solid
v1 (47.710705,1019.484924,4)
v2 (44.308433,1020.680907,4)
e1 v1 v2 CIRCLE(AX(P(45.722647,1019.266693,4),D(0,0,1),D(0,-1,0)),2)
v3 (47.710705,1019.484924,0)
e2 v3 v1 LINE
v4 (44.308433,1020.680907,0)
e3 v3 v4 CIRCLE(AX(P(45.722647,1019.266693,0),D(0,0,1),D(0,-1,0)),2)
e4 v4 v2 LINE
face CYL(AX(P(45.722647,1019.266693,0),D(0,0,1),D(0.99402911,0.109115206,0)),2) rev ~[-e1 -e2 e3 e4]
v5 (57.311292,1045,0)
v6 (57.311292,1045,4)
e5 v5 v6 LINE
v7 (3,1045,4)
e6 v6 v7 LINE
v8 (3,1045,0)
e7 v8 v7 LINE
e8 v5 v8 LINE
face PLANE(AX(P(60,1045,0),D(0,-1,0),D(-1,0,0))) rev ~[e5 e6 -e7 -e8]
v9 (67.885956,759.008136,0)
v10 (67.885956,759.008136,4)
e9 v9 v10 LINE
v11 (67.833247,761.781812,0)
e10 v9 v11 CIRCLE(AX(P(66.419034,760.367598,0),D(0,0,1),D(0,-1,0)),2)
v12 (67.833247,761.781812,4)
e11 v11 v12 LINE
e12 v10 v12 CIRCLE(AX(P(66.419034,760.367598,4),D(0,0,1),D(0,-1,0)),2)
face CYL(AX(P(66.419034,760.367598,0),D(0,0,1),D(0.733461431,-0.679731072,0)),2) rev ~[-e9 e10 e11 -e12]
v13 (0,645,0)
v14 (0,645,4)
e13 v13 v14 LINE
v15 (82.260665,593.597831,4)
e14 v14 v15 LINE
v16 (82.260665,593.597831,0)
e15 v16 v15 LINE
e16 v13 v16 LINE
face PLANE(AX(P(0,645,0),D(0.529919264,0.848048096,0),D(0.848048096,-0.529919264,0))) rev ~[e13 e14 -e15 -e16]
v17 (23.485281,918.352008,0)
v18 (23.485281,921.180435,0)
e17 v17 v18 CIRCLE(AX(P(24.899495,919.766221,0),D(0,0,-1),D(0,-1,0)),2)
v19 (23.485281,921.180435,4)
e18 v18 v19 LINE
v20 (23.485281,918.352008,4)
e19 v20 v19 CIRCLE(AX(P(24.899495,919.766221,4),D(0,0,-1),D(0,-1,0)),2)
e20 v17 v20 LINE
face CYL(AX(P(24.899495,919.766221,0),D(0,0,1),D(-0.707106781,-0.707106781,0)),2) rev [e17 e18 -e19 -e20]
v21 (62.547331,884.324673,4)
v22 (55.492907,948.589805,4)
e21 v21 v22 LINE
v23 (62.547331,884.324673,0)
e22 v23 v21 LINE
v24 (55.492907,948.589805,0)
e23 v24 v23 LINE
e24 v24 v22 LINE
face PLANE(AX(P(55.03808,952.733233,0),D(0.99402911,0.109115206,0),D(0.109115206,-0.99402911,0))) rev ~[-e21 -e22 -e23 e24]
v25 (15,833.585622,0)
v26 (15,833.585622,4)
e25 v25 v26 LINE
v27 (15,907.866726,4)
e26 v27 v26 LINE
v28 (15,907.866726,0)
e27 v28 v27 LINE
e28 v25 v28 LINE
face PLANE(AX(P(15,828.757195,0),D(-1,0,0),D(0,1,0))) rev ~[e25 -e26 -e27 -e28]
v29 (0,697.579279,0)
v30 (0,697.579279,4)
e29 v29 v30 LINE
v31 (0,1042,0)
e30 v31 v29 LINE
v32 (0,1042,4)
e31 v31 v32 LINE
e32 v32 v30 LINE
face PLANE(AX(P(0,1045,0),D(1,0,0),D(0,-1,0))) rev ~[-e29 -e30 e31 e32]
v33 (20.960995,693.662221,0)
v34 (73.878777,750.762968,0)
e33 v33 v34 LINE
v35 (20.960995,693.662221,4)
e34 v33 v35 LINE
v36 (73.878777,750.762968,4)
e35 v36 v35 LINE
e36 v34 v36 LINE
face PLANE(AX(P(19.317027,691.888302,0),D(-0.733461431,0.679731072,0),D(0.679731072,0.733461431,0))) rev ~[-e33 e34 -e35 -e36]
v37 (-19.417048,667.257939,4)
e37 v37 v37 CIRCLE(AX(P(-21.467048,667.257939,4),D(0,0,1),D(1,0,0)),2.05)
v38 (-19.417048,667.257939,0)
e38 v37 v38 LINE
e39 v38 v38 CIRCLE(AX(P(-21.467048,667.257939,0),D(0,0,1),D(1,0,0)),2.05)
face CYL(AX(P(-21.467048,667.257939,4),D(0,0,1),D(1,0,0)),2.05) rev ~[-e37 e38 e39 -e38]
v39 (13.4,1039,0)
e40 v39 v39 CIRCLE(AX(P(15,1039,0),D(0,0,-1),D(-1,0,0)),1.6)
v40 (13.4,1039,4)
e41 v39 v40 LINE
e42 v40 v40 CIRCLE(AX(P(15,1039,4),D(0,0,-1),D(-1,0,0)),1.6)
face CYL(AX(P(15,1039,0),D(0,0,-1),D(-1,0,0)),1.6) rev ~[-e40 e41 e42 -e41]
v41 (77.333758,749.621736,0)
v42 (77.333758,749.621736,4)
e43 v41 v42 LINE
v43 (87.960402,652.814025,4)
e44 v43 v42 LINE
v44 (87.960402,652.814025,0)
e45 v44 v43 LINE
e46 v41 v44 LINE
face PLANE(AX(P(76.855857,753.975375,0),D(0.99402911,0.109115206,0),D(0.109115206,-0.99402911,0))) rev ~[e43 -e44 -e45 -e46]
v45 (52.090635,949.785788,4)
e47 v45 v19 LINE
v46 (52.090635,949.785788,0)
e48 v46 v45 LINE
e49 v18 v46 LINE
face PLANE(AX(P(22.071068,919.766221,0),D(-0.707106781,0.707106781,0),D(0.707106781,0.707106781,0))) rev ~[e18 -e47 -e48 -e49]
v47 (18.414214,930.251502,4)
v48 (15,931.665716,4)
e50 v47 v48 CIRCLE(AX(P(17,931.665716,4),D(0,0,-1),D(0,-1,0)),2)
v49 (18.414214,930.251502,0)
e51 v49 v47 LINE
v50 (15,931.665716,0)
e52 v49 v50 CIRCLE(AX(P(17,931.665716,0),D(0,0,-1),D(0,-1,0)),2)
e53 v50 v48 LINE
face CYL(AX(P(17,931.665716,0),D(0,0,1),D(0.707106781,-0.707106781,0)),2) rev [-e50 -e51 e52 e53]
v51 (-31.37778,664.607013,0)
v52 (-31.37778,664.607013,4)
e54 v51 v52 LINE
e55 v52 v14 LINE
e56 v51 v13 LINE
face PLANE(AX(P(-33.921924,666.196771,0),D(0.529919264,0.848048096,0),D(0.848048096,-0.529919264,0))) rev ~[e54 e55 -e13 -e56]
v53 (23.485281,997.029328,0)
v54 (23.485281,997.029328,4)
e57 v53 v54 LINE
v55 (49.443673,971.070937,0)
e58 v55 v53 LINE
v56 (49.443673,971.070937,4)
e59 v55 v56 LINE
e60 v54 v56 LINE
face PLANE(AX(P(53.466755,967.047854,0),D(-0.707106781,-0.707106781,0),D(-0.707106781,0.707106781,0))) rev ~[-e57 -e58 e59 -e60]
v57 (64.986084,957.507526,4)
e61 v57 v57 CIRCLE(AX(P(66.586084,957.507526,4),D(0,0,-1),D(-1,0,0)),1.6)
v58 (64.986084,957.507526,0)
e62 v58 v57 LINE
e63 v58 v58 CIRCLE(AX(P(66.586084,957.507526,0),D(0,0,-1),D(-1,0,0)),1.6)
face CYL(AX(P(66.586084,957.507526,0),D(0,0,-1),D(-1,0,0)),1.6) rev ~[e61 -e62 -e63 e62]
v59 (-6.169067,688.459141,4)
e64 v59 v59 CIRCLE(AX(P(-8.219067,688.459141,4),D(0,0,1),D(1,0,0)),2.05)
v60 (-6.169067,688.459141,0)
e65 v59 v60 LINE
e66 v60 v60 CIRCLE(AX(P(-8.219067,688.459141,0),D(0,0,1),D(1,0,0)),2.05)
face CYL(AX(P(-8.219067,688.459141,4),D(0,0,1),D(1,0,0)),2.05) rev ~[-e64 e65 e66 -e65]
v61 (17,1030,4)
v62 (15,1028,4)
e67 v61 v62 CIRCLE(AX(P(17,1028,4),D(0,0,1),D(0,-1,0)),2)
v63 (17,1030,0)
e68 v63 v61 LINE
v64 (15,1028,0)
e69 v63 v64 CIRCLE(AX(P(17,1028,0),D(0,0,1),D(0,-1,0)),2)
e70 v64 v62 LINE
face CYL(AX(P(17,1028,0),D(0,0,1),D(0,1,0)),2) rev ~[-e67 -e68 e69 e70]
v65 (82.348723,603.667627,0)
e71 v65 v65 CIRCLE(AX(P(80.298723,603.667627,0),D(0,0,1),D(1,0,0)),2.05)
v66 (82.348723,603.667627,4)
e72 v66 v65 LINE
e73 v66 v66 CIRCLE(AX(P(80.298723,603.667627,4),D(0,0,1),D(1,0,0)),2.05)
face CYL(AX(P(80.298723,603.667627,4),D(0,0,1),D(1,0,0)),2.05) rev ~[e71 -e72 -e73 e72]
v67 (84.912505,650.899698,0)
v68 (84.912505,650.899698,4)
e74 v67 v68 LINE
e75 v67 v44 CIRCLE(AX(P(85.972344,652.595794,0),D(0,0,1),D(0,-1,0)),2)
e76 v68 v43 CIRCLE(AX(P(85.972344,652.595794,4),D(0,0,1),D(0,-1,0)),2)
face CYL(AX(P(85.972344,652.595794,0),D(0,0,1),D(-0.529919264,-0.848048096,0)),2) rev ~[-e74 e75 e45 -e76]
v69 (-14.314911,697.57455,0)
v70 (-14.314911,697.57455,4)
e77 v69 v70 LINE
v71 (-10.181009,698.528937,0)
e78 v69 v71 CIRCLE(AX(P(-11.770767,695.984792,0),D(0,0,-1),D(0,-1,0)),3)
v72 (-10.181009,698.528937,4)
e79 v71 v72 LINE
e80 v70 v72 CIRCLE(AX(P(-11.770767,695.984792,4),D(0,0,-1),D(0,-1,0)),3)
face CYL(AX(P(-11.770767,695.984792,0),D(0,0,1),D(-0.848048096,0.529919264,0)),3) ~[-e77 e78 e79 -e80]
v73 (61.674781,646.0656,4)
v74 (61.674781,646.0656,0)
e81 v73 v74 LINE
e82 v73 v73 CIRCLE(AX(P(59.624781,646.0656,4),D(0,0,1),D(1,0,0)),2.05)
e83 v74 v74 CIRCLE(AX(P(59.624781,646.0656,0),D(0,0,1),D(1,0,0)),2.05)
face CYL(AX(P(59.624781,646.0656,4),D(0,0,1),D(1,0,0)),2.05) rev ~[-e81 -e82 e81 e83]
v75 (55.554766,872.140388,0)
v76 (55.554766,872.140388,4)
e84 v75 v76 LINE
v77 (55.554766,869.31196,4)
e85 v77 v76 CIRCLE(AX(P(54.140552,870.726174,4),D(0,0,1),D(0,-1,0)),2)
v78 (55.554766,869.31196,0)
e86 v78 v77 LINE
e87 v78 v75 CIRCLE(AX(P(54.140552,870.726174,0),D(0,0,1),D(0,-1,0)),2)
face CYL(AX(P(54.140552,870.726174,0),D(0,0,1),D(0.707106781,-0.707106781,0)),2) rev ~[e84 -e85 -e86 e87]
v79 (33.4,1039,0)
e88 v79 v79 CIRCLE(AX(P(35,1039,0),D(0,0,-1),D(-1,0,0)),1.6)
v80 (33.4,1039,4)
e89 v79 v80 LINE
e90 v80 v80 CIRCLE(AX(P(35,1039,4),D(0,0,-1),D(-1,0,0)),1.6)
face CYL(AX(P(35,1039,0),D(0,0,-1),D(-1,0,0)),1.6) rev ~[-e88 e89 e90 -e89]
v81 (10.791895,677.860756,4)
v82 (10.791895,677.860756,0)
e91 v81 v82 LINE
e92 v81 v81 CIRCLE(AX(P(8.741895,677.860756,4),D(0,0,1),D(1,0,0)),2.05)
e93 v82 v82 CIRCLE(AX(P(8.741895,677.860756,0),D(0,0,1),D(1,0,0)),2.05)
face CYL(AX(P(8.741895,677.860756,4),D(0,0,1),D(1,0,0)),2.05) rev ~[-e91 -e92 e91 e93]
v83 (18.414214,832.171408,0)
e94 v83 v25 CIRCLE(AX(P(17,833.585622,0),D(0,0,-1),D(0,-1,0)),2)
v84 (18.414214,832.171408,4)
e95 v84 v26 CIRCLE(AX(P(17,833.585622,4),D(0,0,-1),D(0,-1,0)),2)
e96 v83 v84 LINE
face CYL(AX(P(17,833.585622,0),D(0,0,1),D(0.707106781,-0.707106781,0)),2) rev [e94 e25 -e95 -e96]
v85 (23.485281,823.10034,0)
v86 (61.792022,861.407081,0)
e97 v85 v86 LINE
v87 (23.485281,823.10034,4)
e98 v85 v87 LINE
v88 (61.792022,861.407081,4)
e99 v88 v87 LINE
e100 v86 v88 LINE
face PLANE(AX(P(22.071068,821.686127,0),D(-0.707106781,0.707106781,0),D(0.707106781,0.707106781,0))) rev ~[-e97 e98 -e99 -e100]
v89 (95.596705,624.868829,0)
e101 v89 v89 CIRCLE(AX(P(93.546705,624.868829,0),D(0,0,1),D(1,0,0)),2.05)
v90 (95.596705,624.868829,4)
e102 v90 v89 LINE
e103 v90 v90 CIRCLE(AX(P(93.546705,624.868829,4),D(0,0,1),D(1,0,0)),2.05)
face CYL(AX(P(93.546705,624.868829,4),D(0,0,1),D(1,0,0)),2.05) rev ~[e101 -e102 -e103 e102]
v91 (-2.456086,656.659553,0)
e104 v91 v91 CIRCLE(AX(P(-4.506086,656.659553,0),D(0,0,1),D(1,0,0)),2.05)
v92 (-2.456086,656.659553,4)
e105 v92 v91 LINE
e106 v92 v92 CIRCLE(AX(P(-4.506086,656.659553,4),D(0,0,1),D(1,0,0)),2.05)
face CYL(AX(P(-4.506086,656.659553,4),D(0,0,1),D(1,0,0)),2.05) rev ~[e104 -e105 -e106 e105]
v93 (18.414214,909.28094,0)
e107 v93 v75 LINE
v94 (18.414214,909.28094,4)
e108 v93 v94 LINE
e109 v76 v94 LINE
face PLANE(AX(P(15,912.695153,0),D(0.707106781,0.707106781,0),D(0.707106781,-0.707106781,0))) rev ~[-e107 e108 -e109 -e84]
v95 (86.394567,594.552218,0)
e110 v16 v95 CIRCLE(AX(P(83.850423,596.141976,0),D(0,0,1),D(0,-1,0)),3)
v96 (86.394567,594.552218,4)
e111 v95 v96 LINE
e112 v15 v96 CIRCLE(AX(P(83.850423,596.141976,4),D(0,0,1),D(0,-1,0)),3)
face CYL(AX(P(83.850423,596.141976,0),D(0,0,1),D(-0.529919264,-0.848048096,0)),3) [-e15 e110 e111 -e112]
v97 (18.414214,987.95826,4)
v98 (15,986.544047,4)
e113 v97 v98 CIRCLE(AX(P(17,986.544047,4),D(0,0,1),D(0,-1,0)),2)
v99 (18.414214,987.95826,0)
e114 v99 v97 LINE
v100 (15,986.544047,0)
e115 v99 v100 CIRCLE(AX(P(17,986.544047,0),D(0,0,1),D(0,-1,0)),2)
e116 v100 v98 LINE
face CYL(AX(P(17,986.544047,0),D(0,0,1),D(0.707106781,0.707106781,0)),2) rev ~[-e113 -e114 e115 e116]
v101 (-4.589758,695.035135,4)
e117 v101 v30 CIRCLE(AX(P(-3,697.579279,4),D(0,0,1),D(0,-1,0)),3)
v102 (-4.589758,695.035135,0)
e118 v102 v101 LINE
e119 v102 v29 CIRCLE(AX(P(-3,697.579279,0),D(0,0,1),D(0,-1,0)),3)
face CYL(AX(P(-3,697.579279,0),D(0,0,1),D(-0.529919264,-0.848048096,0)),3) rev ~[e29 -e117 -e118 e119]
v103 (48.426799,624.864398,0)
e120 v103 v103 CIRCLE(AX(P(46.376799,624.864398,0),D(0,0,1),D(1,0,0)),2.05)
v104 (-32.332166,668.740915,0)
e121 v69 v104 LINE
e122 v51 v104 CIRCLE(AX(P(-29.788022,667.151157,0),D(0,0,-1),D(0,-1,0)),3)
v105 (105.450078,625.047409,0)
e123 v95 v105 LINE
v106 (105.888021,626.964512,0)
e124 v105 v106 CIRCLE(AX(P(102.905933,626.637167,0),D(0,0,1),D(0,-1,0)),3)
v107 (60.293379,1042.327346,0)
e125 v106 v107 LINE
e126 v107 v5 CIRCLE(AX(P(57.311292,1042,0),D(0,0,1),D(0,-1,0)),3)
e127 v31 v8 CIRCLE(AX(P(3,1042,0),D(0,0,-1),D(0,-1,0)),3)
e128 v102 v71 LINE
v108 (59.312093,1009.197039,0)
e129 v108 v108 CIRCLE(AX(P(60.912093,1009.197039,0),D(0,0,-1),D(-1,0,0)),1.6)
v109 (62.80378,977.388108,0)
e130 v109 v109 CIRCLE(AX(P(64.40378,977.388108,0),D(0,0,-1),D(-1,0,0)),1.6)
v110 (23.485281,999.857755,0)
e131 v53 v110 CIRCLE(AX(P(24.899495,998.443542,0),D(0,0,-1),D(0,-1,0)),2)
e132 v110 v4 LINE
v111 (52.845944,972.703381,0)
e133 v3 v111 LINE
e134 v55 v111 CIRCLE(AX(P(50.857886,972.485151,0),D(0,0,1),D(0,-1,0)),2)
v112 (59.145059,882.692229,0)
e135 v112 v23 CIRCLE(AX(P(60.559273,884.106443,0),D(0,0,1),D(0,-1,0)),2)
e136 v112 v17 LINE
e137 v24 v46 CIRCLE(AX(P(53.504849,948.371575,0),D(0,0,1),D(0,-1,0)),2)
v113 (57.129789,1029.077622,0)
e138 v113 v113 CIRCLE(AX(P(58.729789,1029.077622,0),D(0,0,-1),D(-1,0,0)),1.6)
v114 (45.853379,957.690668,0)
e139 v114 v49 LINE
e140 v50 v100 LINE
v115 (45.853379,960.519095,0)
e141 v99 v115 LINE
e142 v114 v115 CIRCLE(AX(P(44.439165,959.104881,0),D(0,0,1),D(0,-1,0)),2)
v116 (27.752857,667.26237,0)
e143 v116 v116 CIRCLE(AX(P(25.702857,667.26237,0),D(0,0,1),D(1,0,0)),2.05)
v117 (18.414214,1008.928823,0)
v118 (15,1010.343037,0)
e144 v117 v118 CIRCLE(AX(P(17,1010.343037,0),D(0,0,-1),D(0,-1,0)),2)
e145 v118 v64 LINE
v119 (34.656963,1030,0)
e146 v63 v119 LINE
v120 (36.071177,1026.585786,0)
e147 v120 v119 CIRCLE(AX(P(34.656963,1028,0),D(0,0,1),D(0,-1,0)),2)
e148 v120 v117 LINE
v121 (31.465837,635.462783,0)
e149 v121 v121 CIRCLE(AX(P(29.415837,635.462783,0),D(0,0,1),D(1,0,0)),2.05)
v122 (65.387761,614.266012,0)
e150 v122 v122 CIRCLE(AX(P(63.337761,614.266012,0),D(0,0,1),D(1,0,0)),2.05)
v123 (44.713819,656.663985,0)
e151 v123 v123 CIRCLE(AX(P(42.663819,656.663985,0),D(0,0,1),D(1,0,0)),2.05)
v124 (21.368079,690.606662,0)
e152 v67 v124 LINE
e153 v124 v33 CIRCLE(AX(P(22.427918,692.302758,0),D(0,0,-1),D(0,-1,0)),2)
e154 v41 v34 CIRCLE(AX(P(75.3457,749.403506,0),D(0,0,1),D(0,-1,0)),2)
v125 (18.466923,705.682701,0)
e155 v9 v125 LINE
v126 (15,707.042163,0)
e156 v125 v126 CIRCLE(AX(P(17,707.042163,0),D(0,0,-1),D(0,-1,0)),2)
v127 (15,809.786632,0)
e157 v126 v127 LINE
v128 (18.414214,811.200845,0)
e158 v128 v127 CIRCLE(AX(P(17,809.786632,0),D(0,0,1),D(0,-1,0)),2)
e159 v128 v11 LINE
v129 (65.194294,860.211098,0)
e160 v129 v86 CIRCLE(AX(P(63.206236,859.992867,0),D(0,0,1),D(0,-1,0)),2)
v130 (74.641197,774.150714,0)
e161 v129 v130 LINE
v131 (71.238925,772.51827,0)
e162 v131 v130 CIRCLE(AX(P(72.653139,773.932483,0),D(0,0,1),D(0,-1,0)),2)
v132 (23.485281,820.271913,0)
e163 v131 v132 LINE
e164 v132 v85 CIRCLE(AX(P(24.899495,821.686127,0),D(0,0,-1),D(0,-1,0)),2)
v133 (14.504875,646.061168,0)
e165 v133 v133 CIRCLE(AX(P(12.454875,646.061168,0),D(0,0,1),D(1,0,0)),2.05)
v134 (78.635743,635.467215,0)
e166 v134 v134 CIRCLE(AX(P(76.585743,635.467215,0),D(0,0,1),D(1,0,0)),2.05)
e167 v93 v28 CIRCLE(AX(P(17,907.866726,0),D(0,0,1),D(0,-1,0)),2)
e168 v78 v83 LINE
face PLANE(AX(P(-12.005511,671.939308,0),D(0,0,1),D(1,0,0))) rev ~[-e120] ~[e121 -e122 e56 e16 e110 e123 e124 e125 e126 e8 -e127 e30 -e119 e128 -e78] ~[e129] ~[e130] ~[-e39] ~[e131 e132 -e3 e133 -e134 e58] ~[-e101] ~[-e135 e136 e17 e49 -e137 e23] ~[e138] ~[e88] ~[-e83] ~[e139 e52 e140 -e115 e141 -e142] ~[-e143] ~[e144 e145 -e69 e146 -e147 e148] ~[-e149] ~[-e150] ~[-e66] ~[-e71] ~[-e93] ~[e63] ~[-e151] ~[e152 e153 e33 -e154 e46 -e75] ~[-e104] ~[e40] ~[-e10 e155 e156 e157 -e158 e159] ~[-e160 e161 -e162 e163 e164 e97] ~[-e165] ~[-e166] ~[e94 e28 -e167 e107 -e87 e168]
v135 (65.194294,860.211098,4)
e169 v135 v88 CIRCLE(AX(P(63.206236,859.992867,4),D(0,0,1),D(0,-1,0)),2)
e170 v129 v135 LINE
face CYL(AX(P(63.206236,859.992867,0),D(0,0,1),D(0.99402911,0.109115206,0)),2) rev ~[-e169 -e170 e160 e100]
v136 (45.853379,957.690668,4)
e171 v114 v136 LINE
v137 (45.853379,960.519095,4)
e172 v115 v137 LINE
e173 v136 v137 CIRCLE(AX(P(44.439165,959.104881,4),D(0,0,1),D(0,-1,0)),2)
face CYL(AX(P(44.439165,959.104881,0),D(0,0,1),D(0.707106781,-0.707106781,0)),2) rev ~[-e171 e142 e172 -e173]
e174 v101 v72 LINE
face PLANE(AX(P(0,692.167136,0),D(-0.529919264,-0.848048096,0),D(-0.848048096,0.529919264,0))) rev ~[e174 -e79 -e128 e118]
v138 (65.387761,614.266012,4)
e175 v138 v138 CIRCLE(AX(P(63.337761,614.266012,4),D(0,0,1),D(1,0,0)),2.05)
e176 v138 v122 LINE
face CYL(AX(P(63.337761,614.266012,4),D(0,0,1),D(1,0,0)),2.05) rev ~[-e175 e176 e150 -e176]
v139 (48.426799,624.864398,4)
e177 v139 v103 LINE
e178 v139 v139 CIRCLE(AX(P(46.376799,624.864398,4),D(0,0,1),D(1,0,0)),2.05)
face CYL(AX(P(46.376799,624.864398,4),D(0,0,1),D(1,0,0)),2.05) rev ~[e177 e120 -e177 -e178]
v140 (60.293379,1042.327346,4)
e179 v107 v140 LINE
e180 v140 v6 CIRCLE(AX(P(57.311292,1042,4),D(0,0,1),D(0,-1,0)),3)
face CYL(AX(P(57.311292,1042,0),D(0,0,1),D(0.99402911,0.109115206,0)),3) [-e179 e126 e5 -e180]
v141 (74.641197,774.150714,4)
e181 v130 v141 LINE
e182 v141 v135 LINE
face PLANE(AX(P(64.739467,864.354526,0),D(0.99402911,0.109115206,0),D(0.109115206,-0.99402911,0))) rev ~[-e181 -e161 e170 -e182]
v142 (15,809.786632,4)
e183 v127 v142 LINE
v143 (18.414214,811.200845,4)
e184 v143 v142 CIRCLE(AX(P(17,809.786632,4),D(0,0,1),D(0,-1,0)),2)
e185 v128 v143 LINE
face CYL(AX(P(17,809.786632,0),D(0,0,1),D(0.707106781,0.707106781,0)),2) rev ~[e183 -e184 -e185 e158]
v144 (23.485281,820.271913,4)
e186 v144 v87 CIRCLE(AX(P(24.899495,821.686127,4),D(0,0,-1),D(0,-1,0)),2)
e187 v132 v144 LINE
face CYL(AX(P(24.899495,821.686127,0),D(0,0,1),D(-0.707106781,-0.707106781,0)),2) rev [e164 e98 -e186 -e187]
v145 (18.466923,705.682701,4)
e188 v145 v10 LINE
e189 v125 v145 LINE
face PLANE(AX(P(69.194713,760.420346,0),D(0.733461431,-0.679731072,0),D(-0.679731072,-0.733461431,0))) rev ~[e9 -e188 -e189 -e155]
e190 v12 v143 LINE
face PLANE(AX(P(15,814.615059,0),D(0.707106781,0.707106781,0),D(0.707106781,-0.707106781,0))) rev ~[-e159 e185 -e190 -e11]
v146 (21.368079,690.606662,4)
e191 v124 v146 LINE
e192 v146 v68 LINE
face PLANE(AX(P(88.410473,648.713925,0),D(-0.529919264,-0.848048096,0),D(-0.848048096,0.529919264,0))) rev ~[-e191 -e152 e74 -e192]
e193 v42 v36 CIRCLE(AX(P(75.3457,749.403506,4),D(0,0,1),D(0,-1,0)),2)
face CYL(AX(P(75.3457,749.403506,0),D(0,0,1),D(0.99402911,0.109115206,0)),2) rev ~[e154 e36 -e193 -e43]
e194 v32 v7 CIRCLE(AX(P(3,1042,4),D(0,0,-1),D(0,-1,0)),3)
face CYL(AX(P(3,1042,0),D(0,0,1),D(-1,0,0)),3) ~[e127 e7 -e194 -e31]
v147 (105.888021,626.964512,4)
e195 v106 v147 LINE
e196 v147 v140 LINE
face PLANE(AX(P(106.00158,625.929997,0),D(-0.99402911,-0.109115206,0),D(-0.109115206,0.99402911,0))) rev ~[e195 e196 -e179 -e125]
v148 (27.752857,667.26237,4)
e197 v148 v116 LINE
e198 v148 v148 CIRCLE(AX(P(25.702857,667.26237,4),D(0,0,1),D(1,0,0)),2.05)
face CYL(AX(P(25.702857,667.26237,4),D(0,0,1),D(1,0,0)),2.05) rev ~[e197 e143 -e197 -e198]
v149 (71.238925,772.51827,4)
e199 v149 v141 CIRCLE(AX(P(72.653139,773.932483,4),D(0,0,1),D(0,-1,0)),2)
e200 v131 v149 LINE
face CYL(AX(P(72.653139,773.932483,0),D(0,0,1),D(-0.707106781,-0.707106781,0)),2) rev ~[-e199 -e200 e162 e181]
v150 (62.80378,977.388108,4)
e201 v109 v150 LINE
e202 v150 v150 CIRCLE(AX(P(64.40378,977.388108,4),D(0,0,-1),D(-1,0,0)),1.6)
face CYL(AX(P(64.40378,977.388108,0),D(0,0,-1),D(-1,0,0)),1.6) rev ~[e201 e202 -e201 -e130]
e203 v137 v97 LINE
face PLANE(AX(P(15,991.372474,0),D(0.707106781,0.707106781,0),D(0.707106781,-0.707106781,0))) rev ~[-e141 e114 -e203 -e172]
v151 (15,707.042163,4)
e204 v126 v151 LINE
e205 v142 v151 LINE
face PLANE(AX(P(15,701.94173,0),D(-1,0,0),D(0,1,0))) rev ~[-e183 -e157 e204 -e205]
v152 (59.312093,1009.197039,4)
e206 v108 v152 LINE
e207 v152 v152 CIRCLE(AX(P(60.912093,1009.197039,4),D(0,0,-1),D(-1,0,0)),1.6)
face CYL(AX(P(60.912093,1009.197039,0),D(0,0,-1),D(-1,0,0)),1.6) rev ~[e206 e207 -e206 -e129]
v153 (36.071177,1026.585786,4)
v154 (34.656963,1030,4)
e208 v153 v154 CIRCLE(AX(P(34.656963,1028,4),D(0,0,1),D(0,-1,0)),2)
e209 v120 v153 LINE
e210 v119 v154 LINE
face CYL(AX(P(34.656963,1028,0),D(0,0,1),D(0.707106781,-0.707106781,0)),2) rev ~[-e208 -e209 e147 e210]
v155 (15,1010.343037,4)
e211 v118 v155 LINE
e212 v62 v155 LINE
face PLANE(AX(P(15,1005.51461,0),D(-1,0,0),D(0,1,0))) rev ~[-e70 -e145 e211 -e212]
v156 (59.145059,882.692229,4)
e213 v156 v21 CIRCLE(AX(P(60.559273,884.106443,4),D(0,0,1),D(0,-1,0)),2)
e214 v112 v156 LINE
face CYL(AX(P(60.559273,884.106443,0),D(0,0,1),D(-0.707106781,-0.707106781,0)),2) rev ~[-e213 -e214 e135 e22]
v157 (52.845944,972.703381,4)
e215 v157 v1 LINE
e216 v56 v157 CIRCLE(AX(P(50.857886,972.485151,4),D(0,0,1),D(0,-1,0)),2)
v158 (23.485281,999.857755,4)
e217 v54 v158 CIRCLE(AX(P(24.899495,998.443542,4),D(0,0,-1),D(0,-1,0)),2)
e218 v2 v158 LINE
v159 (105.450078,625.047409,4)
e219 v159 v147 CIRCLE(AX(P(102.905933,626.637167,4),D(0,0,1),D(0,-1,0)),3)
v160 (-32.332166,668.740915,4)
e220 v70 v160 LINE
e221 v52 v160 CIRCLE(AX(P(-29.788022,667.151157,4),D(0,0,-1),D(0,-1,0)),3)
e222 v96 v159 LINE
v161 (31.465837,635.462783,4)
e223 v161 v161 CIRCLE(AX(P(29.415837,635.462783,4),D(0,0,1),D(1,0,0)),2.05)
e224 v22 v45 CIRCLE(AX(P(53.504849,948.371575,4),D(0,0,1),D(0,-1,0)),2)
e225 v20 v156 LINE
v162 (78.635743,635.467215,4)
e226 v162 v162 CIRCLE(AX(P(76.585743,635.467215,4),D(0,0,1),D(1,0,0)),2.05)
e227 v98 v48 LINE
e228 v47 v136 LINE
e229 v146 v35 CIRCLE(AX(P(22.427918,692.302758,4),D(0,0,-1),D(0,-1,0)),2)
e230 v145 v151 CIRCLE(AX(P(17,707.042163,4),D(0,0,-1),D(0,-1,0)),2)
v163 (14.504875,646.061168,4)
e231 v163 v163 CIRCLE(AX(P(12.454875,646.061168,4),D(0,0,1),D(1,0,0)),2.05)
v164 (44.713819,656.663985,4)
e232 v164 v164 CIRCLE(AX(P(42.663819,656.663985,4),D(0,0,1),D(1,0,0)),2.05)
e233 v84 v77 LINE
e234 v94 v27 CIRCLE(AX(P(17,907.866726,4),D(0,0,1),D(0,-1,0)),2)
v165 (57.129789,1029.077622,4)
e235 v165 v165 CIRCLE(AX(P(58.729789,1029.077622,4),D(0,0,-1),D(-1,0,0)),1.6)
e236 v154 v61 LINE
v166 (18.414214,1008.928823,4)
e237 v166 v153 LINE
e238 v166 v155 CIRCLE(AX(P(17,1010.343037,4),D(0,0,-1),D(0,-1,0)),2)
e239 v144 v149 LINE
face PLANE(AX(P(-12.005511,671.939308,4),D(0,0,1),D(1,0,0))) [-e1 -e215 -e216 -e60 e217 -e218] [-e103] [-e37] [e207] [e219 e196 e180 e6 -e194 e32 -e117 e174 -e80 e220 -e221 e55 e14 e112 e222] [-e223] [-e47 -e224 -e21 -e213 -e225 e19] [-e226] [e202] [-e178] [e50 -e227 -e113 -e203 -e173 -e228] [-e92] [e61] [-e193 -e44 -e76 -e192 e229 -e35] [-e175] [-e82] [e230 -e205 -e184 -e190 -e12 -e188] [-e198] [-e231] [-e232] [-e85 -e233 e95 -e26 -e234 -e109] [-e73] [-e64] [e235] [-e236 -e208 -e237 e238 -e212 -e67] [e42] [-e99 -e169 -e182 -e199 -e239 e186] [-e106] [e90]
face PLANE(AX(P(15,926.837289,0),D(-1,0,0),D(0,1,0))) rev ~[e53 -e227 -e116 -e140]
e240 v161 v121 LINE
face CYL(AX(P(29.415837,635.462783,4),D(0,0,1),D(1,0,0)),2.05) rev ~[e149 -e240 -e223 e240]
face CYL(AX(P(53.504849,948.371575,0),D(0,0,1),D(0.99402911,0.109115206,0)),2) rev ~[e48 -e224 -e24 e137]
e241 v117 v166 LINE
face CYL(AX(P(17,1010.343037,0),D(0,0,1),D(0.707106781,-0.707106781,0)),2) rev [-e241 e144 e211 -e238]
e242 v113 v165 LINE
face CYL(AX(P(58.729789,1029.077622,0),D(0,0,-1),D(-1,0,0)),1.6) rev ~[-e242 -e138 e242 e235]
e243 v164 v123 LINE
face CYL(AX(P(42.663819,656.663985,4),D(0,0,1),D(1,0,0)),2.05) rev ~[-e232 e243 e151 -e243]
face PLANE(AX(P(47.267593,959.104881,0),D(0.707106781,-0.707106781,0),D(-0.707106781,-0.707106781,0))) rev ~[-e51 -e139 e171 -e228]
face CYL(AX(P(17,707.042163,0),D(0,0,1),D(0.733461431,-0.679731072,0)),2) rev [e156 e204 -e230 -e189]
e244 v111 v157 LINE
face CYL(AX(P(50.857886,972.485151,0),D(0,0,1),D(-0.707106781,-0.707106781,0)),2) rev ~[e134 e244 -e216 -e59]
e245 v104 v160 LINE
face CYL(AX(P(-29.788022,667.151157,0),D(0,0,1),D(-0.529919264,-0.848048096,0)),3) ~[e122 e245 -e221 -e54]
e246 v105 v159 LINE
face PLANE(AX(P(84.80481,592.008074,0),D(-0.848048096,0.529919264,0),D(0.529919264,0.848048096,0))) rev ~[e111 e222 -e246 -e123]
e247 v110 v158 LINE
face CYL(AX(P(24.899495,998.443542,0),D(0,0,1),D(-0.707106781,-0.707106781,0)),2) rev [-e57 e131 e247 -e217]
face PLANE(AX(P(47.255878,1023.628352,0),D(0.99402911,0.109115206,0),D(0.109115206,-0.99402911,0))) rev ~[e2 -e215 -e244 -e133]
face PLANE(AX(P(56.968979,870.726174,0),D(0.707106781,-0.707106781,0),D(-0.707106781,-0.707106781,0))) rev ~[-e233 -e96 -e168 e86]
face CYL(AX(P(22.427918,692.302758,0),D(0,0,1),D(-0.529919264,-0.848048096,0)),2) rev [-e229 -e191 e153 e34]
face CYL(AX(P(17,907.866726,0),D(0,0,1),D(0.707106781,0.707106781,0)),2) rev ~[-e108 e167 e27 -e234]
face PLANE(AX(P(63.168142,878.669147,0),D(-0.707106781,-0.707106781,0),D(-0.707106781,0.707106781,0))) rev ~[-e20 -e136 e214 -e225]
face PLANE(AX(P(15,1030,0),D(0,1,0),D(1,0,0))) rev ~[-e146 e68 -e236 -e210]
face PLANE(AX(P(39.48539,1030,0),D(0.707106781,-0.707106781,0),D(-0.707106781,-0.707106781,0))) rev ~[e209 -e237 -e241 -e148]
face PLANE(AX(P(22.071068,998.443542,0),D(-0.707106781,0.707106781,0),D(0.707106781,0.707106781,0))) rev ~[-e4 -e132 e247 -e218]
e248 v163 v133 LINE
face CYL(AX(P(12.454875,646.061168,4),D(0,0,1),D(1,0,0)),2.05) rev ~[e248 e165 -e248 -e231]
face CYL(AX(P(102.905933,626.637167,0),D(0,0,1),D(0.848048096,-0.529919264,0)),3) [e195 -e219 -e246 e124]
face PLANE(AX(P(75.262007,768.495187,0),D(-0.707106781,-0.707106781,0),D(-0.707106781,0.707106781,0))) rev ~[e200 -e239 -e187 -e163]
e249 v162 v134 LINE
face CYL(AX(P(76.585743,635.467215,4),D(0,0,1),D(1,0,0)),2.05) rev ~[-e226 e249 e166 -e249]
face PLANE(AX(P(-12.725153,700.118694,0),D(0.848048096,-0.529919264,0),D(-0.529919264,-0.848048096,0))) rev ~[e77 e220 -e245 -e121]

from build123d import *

# Parameters (mm, degrees)
EXTRUDE_1_DEPTH     = 4
SKETCH_2_R          = 2.05
CUT_EXTRUDE_1_DEPTH = 1051.370094301
FILLET_2_R          = 3
CUT_EXTRUDE_2_DEPTH = 1051.360446107
FILLET_3_R          = 2
SKETCH_4_R          = 1.6
CUT_EXTRUDE_3_DEPTH = 1051.360446107
SKETCH_5_R          = 1.6
CUT_EXTRUDE_4_DEPTH = 1051.360446107


with BuildPart() as part:
    # 草图1 → 凸台-拉伸1 (new body)
    with BuildSketch(Plane.XY):
        Polygon((-33.921923846, 666.196770569), (0, 645), (0, 692.167136134), (-12.725153277, 700.118694416), align=None)
        Polygon((21.196770569, 678.921923846), (0, 645), (84.804809616, 592.008073577), (106.001580185, 625.929997423), align=None)
        Polygon((0, 692.167136134), (0, 645), (21.196770569, 678.921923846), align=None)
        Polygon((0, 1045), (0, 692.167136134), (21.196770569, 678.921923846), (106.001580185, 625.929997423), (60, 1045), align=None)
    extrude(amount=EXTRUDE_1_DEPTH)

    # 草图2 → 切除-拉伸1 (cut, through all)
    with BuildSketch(Plane.XY.offset(4)):
        with Locations((-8.219066797, 688.459141052)):
            Circle(SKETCH_2_R)
        with Locations((-21.467048403, 667.257938648)):
            Circle(SKETCH_2_R)
        with Locations((-4.50608648, 656.659553364)):
            Circle(SKETCH_2_R)
        with Locations((8.741895126, 677.860755767)):
            Circle(SKETCH_2_R)
        with Locations((12.454875443, 646.061168079)):
            Circle(SKETCH_2_R)
        with Locations((25.702857049, 667.262370483)):
            Circle(SKETCH_2_R)
        with Locations((29.415837366, 635.462782794)):
            Circle(SKETCH_2_R)
        with Locations((42.663818972, 656.663985198)):
            Circle(SKETCH_2_R)
        with Locations((46.37679929, 624.86439751)):
            Circle(SKETCH_2_R)
        with Locations((59.624780895, 646.065599913)):
            Circle(SKETCH_2_R)
        with Locations((63.337761213, 614.266012225)):
            Circle(SKETCH_2_R)
        with Locations((76.585742819, 635.467214629)):
            Circle(SKETCH_2_R)
        with Locations((80.298723136, 603.66762694)):
            Circle(SKETCH_2_R)
        with Locations((93.546704742, 624.868829344)):
            Circle(SKETCH_2_R)
    extrude(amount=-CUT_EXTRUDE_1_DEPTH, mode=Mode.SUBTRACT)

    # 圆角2
    fillet_2_edges = [part.edges().sort_by_distance(p)[0] for p in [
        (0, 1045, 2),
        (60, 1045, 2),
        (106.001580185, 625.929997423, 2),
        (84.804809616, 592.008073577, 2),
        (-33.921923846, 666.196770569, 2),
        (-12.725153277, 700.118694416, 2),
        (0, 692.167136134, 2),
    ]]
    fillet(fillet_2_edges, radius=FILLET_2_R)

    # 草图3 → 切除-拉伸2 (cut, through all)
    with BuildSketch(Plane(origin=(0, 0, 0), x_dir=(-1, 0, 0), z_dir=(0, 0, -1))):
        Polygon((-15, 1005.514609624), (-15, 1030), (-39.485390376, 1030), align=None)
        Polygon((-22.071067812, 998.443541812), (-47.25587803, 1023.62835203), (-53.466755162, 967.047854463), align=None)
        Polygon((-15, 926.837288925), (-15, 991.372474001), (-47.267592538, 959.104881463), align=None)
        Polygon((-22.071067812, 919.766221113), (-55.038080192, 952.733233493), (-63.168141984, 878.669146941), align=None)
        Polygon((-15, 828.75719458), (-15, 912.695153301), (-56.96897936, 870.726173941), align=None)
        Polygon((-22.071067812, 821.686126769), (-64.739467014, 864.354525971), (-75.262007489, 768.495187091), align=None)
        Polygon((-15, 701.941730178), (-15, 814.615058957), (-69.194713321, 760.420345636), align=None)
        Polygon((-19.317026748, 691.888302183), (-76.855856505, 753.975374761), (-88.41047261, 648.713925446), align=None)
    extrude(amount=-CUT_EXTRUDE_2_DEPTH, mode=Mode.SUBTRACT)

    # 圆角3
    fillet_3_edges = [part.edges().sort_by_distance(p)[0] for p in [
        (22.071067812, 919.766221113, 2),
        (63.168141984, 878.669146941, 2),
        (55.038080192, 952.733233493, 2),
        (56.96897936, 870.726173941, 2),
        (15, 912.695153301, 2),
        (15, 828.75719458, 2),
        (22.071067812, 998.443541812, 2),
        (53.466755162, 967.047854463, 2),
        (47.25587803, 1023.62835203, 2),
        (47.267592538, 959.104881463, 2),
        (15, 991.372474001, 2),
        (15, 926.837288925, 2),
        (76.855856505, 753.975374761, 2),
        (19.317026748, 691.888302183, 2),
        (88.41047261, 648.713925446, 2),
        (22.071067812, 821.686126769, 2),
        (75.262007489, 768.495187091, 2),
        (64.739467014, 864.354525971, 2),
        (69.194713321, 760.420345636, 2),
        (15, 814.615058957, 2),
        (15, 701.941730178, 2),
        (39.485390376, 1030, 2),
        (15, 1030, 2),
        (15, 1005.514609624, 2),
    ]]
    fillet(fillet_3_edges, radius=FILLET_3_R)

    # 草图4 → 切除-拉伸3 (cut, through all)
    with BuildSketch(Plane(origin=(0, 0, 0), x_dir=(-1, 0, 0), z_dir=(0, 0, -1))):
        with Locations((-35, 1039)):
            Circle(SKETCH_4_R)
        with Locations((-15, 1039)):
            Circle(SKETCH_4_R)
    extrude(amount=-CUT_EXTRUDE_3_DEPTH, mode=Mode.SUBTRACT)

    # 草图5 → 切除-拉伸4 (cut, through all)
    with BuildSketch(Plane(origin=(0, 0, 0), x_dir=(-1, 0, 0), z_dir=(0, 0, -1))):
        with Locations((-60.912093448, 1009.197039366)):
            Circle(SKETCH_5_R)
        with Locations((-58.72978932, 1029.077621569)):
            Circle(SKETCH_5_R)
        with Locations((-64.403780052, 977.388107843)):
            Circle(SKETCH_5_R)
        with Locations((-66.586084179, 957.507525641)):
            Circle(SKETCH_5_R)
    extrude(amount=-CUT_EXTRUDE_4_DEPTH, mode=Mode.SUBTRACT)


solid = part.part
